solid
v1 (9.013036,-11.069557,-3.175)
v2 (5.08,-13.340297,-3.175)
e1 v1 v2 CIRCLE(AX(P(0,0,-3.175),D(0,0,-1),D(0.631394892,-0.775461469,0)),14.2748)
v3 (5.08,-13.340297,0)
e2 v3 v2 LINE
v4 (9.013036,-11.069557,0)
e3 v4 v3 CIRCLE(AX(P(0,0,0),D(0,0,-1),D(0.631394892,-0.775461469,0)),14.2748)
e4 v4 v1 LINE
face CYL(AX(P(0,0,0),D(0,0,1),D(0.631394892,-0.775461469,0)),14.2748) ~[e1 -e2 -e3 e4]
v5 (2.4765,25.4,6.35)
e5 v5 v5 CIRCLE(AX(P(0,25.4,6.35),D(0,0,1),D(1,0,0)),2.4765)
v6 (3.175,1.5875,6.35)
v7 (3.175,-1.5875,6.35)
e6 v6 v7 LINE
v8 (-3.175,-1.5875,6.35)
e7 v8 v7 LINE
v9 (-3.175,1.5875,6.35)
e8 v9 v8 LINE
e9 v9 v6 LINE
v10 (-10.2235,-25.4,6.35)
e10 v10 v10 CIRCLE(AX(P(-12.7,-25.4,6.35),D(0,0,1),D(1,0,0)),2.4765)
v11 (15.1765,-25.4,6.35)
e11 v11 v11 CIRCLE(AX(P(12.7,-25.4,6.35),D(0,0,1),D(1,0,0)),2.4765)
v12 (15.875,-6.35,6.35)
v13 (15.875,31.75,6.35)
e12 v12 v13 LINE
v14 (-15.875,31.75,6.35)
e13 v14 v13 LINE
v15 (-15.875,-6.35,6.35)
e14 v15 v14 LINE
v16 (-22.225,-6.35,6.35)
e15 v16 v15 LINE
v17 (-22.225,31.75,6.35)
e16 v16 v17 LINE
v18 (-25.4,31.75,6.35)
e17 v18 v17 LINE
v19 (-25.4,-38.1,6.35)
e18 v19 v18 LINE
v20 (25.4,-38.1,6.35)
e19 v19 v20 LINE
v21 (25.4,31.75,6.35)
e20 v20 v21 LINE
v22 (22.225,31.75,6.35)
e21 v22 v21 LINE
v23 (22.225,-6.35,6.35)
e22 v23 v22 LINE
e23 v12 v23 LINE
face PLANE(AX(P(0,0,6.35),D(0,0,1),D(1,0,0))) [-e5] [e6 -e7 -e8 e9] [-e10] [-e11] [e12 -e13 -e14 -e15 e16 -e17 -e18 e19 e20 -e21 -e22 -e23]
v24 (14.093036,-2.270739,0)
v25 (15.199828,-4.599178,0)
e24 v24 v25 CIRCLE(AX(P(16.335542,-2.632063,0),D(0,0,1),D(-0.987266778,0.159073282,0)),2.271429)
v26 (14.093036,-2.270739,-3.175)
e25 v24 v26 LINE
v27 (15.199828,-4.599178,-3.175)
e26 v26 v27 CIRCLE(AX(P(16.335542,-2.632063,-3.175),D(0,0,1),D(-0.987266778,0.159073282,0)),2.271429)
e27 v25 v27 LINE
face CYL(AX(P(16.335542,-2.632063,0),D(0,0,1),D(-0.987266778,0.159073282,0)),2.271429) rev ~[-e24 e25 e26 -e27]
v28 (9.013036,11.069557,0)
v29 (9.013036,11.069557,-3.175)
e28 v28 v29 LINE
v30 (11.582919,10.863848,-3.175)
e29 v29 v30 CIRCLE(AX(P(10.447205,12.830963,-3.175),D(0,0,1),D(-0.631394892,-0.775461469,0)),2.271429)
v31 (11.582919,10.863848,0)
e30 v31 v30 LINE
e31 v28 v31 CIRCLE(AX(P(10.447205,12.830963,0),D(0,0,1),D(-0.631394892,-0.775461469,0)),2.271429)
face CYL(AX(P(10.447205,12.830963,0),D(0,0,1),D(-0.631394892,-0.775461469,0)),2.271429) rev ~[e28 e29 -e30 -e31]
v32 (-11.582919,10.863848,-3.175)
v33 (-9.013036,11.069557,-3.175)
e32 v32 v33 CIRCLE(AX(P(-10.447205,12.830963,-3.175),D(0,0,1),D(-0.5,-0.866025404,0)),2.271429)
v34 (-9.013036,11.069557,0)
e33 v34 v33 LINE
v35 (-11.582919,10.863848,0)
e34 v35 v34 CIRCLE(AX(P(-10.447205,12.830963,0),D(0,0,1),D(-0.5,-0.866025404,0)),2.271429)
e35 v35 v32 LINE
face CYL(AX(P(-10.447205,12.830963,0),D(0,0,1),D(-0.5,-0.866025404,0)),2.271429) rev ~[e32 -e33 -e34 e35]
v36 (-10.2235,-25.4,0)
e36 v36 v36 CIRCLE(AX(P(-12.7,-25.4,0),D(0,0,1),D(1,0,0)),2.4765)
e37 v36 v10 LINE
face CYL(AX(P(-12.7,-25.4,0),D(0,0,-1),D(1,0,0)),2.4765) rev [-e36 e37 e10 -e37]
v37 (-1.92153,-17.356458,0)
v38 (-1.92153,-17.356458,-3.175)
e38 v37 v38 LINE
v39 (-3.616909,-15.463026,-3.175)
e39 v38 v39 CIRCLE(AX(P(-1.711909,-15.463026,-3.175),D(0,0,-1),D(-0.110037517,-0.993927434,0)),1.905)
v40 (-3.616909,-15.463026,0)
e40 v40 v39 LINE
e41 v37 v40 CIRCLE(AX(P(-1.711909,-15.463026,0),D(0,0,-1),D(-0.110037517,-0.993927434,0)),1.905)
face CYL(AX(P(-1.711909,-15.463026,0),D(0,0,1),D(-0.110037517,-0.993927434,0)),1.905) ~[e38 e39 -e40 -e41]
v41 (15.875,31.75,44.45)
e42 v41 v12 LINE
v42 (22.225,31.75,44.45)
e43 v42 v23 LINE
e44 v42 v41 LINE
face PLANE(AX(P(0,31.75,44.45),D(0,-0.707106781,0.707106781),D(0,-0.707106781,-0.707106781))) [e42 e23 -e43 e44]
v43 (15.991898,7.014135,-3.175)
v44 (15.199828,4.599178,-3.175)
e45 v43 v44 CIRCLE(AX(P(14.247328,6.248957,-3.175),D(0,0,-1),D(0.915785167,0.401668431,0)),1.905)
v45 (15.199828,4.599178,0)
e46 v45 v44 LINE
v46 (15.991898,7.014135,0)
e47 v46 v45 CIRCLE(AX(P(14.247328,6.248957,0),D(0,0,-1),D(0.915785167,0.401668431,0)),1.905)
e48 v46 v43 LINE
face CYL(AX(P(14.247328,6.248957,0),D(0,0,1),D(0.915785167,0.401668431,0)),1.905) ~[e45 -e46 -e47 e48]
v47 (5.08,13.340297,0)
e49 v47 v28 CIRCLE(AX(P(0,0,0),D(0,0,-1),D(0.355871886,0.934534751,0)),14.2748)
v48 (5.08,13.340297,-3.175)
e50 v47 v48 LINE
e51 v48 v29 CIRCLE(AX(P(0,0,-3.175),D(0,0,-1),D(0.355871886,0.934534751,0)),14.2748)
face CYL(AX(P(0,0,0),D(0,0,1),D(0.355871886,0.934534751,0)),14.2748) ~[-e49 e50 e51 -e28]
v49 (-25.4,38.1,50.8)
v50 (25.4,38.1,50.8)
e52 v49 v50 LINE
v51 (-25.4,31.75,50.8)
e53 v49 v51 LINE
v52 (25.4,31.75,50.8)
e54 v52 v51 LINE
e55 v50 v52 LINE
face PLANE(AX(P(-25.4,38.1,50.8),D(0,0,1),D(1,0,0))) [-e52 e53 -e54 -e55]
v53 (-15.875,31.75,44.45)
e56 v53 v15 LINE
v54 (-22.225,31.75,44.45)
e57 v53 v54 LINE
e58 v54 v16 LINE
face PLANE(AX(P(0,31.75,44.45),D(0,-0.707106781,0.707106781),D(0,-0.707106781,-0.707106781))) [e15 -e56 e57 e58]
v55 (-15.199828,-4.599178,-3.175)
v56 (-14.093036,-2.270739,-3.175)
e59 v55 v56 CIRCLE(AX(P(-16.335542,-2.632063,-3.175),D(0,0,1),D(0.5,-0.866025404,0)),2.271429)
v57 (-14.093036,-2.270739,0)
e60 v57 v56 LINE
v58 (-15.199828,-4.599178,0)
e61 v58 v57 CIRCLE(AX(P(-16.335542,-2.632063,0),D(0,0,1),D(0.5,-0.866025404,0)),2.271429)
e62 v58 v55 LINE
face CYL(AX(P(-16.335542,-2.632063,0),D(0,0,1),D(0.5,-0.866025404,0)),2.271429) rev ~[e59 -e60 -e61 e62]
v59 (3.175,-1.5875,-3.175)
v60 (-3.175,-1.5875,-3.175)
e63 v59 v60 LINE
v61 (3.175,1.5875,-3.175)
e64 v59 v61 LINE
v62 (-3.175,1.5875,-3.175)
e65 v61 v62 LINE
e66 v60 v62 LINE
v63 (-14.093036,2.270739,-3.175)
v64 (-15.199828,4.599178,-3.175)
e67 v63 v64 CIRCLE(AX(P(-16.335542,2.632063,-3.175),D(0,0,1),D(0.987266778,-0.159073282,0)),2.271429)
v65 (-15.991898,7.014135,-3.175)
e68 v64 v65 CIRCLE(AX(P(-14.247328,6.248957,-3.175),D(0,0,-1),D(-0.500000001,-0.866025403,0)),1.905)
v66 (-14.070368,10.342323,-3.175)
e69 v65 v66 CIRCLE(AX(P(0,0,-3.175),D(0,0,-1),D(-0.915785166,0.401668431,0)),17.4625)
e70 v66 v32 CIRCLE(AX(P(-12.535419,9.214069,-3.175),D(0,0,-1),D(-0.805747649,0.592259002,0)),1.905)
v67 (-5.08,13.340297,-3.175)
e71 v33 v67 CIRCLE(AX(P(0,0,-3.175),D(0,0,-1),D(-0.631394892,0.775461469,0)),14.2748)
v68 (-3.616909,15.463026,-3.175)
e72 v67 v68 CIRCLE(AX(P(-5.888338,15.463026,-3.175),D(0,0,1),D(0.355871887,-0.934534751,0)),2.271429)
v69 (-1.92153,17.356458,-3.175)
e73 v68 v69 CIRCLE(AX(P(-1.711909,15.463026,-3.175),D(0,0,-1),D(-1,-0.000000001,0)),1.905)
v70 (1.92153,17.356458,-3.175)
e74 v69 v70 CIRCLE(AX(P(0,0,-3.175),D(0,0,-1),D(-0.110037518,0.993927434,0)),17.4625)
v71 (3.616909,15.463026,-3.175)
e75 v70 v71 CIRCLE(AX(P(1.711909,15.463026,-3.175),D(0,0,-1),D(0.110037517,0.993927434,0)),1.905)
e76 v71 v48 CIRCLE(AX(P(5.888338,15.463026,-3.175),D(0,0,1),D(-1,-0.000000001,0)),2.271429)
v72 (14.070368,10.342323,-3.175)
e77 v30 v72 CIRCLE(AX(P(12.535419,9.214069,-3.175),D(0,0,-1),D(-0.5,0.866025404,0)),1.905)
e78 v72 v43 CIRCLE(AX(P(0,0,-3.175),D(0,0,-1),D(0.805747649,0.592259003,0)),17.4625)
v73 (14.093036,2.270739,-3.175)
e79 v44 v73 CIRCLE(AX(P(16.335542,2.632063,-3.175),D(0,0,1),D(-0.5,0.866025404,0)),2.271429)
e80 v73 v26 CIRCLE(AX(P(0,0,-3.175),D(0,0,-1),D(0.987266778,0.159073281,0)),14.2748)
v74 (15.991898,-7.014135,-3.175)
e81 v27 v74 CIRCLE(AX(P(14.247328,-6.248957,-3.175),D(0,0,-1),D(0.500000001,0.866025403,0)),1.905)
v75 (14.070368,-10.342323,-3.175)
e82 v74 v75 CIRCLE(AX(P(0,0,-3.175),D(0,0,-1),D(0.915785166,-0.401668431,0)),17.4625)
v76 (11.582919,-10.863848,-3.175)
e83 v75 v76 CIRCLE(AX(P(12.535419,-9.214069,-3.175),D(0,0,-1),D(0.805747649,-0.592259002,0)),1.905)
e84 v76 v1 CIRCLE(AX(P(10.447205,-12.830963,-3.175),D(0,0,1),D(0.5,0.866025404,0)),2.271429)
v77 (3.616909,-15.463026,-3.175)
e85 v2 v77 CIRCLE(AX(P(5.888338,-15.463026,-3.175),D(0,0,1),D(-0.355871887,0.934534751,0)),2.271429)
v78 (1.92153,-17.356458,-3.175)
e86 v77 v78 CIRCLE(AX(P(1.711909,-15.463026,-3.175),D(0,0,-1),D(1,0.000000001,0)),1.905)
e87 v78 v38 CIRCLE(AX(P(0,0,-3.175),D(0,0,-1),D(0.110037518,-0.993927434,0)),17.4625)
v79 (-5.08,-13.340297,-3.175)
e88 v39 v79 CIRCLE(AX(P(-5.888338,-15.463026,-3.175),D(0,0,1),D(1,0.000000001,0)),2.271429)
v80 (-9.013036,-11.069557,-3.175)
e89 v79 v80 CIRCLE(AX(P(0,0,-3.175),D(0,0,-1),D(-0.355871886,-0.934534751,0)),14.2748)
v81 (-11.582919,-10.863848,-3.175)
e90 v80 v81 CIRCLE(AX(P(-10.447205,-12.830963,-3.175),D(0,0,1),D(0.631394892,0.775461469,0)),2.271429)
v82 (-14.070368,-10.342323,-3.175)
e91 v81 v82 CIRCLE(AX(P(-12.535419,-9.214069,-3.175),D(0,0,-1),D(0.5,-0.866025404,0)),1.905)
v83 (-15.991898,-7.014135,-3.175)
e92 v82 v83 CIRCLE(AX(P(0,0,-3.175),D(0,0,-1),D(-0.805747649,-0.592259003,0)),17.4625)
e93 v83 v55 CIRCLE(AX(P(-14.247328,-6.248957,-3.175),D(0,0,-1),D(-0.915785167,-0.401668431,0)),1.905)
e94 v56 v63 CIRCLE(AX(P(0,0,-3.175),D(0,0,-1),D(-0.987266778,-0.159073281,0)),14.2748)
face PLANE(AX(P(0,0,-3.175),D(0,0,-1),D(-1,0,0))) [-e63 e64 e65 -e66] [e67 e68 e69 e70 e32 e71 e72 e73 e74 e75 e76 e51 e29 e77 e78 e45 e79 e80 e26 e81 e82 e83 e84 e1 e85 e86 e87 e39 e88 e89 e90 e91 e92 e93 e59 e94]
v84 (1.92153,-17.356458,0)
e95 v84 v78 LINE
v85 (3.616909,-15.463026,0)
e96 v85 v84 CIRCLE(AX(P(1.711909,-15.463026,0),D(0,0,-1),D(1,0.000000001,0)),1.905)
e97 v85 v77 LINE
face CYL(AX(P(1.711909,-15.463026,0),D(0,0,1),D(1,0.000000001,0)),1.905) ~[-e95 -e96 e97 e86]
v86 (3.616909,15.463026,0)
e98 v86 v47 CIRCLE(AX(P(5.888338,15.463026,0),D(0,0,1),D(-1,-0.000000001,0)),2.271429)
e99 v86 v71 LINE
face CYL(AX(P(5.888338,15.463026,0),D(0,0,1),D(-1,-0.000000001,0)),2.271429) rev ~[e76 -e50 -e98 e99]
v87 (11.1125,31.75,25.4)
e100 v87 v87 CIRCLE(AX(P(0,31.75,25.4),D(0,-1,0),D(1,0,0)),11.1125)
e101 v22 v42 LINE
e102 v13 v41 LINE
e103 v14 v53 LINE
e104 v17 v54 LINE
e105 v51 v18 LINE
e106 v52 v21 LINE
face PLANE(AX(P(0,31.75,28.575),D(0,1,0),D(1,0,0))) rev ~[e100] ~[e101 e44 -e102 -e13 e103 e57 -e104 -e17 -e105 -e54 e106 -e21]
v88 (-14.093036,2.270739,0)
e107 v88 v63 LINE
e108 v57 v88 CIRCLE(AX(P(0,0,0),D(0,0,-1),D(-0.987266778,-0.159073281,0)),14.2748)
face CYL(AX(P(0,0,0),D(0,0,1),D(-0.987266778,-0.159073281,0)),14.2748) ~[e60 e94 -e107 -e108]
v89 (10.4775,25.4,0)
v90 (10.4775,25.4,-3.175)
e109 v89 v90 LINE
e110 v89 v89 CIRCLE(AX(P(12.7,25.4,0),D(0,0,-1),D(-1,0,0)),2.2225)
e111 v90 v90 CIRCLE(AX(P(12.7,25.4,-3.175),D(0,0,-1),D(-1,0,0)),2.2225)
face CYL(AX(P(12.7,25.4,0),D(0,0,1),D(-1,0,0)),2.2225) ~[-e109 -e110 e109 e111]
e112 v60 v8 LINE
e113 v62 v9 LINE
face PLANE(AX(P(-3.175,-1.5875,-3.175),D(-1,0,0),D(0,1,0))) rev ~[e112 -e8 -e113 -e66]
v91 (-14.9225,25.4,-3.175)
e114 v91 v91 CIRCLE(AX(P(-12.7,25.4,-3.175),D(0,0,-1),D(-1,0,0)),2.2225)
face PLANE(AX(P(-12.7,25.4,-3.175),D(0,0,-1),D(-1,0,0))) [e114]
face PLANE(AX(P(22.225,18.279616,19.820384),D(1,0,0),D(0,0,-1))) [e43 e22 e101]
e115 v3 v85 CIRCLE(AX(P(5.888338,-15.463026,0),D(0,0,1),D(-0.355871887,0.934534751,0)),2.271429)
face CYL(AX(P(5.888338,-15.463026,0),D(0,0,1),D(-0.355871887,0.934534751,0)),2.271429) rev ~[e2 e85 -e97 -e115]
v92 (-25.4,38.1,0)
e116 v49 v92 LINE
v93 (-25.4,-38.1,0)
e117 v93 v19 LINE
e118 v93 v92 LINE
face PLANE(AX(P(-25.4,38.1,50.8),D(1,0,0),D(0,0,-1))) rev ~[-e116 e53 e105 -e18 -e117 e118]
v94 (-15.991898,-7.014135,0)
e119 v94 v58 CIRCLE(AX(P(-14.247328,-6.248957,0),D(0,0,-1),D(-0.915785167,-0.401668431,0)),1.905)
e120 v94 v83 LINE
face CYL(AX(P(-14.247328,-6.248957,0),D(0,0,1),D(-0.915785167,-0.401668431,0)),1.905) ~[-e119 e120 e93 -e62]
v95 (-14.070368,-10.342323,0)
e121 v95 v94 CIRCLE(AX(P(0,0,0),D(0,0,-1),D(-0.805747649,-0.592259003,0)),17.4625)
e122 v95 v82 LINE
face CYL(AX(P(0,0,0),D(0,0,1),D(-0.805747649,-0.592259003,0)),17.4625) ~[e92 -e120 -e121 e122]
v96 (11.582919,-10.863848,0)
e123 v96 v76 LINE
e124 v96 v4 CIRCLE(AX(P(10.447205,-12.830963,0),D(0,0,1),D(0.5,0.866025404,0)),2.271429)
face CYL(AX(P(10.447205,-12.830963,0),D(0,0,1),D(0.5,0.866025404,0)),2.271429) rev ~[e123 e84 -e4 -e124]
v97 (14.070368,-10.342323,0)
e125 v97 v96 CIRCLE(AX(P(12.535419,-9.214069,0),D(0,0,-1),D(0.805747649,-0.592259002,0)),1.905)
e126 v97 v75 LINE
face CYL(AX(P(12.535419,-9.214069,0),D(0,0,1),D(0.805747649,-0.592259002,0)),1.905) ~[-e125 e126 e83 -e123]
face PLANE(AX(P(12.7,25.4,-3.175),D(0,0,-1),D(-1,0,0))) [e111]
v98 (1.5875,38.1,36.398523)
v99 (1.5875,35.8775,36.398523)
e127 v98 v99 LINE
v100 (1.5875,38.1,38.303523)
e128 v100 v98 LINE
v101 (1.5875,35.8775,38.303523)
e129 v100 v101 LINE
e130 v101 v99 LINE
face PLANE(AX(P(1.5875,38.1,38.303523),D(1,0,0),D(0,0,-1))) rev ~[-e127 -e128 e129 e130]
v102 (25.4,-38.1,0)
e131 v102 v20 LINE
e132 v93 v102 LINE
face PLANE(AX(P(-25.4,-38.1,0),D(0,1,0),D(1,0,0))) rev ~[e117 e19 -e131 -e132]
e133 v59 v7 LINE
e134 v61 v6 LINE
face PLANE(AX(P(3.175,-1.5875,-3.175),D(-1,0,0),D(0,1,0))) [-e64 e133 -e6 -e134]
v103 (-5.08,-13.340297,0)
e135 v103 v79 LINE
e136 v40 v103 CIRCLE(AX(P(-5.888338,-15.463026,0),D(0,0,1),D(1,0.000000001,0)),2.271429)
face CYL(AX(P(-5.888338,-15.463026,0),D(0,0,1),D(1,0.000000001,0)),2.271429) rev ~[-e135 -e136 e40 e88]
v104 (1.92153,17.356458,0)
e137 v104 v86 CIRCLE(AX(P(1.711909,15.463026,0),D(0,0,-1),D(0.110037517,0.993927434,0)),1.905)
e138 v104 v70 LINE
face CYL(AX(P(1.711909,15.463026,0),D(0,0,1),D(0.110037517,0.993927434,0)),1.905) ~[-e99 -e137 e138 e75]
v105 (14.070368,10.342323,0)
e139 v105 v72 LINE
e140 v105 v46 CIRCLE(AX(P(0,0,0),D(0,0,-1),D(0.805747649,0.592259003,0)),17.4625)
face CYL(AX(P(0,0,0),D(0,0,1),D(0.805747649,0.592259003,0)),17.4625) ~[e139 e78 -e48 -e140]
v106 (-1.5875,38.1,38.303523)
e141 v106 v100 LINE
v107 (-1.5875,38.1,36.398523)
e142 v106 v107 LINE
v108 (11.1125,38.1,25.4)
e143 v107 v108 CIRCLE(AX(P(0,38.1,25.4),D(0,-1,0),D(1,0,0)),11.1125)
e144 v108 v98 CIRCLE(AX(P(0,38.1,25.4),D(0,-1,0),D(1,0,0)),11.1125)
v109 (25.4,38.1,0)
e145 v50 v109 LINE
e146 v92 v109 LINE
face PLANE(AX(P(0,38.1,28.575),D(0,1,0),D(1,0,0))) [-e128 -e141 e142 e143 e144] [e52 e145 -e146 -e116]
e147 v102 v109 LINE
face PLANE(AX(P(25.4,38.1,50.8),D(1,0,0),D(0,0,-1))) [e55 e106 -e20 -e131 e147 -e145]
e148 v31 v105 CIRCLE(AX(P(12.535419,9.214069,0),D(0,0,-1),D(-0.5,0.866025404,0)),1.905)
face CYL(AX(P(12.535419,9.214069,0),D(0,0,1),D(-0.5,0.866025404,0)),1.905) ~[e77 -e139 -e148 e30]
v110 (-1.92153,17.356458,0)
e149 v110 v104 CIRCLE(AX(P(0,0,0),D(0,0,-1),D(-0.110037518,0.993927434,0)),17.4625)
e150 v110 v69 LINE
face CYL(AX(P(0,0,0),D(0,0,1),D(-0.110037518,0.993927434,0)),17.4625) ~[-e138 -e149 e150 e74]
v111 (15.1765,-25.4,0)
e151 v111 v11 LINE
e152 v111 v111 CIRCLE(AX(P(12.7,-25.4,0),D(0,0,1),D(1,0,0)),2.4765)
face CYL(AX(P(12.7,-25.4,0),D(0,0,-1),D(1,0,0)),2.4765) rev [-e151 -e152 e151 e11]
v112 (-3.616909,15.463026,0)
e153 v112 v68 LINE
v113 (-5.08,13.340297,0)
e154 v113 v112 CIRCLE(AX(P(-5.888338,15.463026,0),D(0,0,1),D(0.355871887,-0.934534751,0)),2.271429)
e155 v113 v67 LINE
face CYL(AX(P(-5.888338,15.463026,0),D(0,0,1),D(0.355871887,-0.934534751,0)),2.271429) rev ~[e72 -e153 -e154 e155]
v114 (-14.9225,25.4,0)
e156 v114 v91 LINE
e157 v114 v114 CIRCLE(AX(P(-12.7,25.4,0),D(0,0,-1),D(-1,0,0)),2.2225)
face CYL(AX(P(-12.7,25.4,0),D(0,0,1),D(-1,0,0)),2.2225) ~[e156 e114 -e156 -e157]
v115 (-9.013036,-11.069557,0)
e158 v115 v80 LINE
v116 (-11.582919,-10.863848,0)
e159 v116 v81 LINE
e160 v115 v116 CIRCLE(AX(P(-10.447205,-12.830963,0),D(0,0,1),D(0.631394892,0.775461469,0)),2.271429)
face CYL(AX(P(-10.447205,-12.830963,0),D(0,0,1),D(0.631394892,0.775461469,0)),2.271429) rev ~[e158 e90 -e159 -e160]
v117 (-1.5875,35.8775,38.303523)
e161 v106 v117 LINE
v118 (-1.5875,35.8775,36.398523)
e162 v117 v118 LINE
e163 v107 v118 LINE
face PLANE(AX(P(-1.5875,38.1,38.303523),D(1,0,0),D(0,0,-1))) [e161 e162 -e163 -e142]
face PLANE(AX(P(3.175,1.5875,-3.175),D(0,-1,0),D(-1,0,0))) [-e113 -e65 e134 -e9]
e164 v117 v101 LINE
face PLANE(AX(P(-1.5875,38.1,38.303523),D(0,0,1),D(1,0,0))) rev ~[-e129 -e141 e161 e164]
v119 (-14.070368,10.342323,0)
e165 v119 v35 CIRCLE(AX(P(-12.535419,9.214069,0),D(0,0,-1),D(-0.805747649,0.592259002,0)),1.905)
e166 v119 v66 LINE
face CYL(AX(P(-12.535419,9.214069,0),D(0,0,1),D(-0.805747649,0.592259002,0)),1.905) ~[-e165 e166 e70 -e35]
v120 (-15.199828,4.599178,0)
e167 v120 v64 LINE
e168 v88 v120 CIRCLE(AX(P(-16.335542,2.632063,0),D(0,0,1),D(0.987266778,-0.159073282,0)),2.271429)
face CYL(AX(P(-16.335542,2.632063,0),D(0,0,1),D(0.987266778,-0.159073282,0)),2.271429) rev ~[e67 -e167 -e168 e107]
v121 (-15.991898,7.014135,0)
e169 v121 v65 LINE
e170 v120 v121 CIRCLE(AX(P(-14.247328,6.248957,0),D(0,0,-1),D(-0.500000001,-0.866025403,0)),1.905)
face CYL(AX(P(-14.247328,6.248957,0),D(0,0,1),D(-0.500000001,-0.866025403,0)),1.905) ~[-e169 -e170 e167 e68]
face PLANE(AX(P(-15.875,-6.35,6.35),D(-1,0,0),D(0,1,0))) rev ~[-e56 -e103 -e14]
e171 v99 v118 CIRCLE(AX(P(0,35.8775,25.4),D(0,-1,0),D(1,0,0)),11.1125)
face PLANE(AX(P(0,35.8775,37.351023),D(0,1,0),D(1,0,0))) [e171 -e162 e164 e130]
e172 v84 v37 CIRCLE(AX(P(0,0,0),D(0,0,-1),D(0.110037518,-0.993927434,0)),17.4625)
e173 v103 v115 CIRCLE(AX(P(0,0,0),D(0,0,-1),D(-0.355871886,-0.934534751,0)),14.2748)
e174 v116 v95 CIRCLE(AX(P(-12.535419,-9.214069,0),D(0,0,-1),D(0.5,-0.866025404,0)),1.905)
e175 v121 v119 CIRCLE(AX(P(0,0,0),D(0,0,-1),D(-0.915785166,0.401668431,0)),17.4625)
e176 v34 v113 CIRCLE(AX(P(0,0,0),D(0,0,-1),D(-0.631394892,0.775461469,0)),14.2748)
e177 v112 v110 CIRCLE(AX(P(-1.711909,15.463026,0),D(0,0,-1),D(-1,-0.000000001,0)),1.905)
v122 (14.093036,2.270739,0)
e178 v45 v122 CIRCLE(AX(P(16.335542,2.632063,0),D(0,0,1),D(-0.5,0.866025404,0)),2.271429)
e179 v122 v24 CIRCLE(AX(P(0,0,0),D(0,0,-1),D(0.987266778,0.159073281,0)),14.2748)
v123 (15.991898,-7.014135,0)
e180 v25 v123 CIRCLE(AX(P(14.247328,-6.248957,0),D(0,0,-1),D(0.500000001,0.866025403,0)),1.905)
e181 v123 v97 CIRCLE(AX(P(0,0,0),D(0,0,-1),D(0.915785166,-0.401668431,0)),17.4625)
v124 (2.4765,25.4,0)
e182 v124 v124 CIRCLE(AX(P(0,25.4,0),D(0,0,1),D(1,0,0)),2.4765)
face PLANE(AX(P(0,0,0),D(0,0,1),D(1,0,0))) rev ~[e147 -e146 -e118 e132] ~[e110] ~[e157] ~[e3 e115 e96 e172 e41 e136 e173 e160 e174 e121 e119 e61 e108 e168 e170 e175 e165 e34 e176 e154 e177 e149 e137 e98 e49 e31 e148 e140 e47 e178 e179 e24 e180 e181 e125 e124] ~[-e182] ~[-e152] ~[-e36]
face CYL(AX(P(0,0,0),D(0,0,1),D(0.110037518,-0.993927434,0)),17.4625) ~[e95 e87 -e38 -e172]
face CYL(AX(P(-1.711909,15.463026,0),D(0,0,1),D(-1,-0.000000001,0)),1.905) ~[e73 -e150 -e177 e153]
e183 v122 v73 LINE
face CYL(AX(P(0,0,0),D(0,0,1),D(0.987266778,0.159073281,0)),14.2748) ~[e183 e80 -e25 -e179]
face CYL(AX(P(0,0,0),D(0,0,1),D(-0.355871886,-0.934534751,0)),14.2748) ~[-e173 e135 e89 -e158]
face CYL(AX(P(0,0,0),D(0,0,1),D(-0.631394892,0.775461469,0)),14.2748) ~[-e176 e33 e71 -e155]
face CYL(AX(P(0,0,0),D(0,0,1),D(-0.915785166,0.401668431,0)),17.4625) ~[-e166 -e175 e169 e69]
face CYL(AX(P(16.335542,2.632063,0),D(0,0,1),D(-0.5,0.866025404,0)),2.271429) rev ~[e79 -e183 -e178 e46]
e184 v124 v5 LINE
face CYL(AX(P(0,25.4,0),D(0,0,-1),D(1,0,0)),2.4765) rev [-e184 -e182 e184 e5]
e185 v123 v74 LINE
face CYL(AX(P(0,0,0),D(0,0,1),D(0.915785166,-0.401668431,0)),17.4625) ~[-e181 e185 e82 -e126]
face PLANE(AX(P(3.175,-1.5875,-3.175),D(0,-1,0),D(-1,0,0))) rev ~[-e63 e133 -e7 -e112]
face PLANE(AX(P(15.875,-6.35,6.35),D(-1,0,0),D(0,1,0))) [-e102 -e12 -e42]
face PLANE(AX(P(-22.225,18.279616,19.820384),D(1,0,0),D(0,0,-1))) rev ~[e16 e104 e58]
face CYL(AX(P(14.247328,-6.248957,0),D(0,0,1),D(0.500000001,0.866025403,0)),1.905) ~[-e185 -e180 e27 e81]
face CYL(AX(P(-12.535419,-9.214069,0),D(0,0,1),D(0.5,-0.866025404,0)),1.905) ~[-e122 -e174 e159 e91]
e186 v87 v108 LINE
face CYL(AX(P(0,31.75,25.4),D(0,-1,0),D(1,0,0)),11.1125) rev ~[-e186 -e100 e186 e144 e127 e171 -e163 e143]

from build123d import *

# Parameters (mm, degrees)
SKETCH1_W           = 50.8
SKETCH1_H           = 76.2
SKETCH1_R           = 2.4765
BOSS_EXTRUDE1_DEPTH = 6.35
SKETCH2_R           = 2.2225
BOSS_EXTRUDE2_DEPTH = 3.175
SKETCH3_W           = 6.35
SKETCH3_H           = 3.175
CUT_EXTRUDE1_DEPTH  = 10.525
SKETCH4_W           = 50.8
SKETCH4_H           = 44.45
BOSS_EXTRUDE3_DEPTH = 6.35
BOSS_EXTRUDE4_DEPTH = 22.225
SKETCH6_W           = 31.75
SKETCH6_H           = 38.1
CUT_EXTRUDE2_DEPTH  = 45.45
SKETCH7_R           = 11.1125
CUT_EXTRUDE3_DEPTH  = 7.35
SKETCH8_W           = 3.175
SKETCH8_H           = 1.905
CUT_EXTRUDE4_DEPTH  = 2.2225


with BuildPart() as part:
    # Sketch1 → Boss-Extrude1 (new body)
    with BuildSketch(Plane.XY):
        Rectangle(SKETCH1_W, SKETCH1_H)
        with Locations((-12.7, -25.4)):
            Circle(SKETCH1_R, mode=Mode.SUBTRACT)
        with Locations((12.7, -25.4)):
            Circle(SKETCH1_R, mode=Mode.SUBTRACT)
        with Locations((0, 25.4)):
            Circle(SKETCH1_R, mode=Mode.SUBTRACT)
    extrude(amount=BOSS_EXTRUDE1_DEPTH)

    # Sketch2 → Boss-Extrude2 (add)
    with BuildSketch(Plane(origin=(0, 0, 0), x_dir=(-1, 0, 0), z_dir=(0, 0, -1))):
        with Locations((-12.7, 25.4)):
            Circle(SKETCH2_R)
        with Locations((12.7, 25.4)):
            Circle(SKETCH2_R)
        with BuildLine():
            ThreePointArc((-5.08, 13.340296662), (-7.1374, 12.362339434), (-9.013035804, 11.069557382))
            ThreePointArc((-9.013035804, 11.069557382), (-10.265964814, 10.566776235), (-11.582919047, 10.863847829))
            ThreePointArc((-11.582919047, 10.863847829), (-12.926326796, 11.078530787), (-14.070368319, 10.342322835))
            ThreePointArc((-14.070368319, 10.342322835), (-15.122968614, 8.73125), (-15.991898469, 7.014134987))
            ThreePointArc((-15.991898469, 7.014134987), (-16.057452496, 5.65526199), (-15.199827727, 4.59917823))
            ThreePointArc((-15.199827727, 4.59917823), (-14.284079063, 3.607198205), (-14.093035804, 2.27073928))
            ThreePointArc((-14.093035804, 2.27073928), (-14.2748, 0), (-14.093035804, -2.27073928))
            ThreePointArc((-14.093035804, -2.27073928), (-14.284079063, -3.607198205), (-15.199827727, -4.59917823))
            ThreePointArc((-15.199827727, -4.59917823), (-16.057452496, -5.65526199), (-15.991898469, -7.014134987))
            ThreePointArc((-15.991898469, -7.014134987), (-15.122968614, -8.73125), (-14.070368319, -10.342322835))
            ThreePointArc((-14.070368319, -10.342322835), (-12.926326796, -11.078530787), (-11.582919047, -10.863847829))
            ThreePointArc((-11.582919047, -10.863847829), (-10.265964814, -10.566776235), (-9.013035804, -11.069557382))
            ThreePointArc((-9.013035804, -11.069557382), (-7.1374, -12.362339434), (-5.08, -13.340296662))
            ThreePointArc((-5.08, -13.340296662), (-4.018114249, -14.173974441), (-3.616908679, -15.46302606))
            ThreePointArc((-3.616908679, -15.46302606), (-3.1311257, -16.733792777), (-1.92153015, -17.356457822))
            ThreePointArc((-1.92153015, -17.356457822), (0, -17.4625), (1.92153015, -17.356457822))
            ThreePointArc((1.92153015, -17.356457822), (3.1311257, -16.733792777), (3.616908679, -15.46302606))
            ThreePointArc((3.616908679, -15.46302606), (4.018114249, -14.173974441), (5.08, -13.340296662))
            ThreePointArc((5.08, -13.340296662), (7.1374, -12.362339434), (9.013035804, -11.069557382))
            ThreePointArc((9.013035804, -11.069557382), (10.265964814, -10.566776235), (11.582919047, -10.863847829))
            ThreePointArc((11.582919047, -10.863847829), (12.926326796, -11.078530787), (14.070368319, -10.342322835))
            ThreePointArc((14.070368319, -10.342322835), (15.122968614, -8.73125), (15.991898469, -7.014134987))
            ThreePointArc((15.991898469, -7.014134987), (16.057452496, -5.65526199), (15.199827727, -4.59917823))
            ThreePointArc((15.199827727, -4.59917823), (14.284079063, -3.607198205), (14.093035804, -2.27073928))
            ThreePointArc((14.093035804, -2.27073928), (14.2748, 0), (14.093035804, 2.27073928))
            ThreePointArc((14.093035804, 2.27073928), (14.284079063, 3.607198205), (15.199827727, 4.59917823))
            ThreePointArc((15.199827727, 4.59917823), (16.057452496, 5.65526199), (15.991898469, 7.014134987))
            ThreePointArc((15.991898469, 7.014134987), (15.122968614, 8.73125), (14.070368319, 10.342322835))
            ThreePointArc((14.070368319, 10.342322835), (12.926326796, 11.078530787), (11.582919047, 10.863847829))
            ThreePointArc((11.582919047, 10.863847829), (10.265964814, 10.566776235), (9.013035804, 11.069557382))
            ThreePointArc((9.013035804, 11.069557382), (7.1374, 12.362339434), (5.08, 13.340296662))
            ThreePointArc((5.08, 13.340296662), (4.018114249, 14.173974441), (3.616908679, 15.46302606))
            ThreePointArc((3.616908679, 15.46302606), (3.1311257, 16.733792777), (1.92153015, 17.356457822))
            ThreePointArc((1.92153015, 17.356457822), (0, 17.4625), (-1.92153015, 17.356457822))
            ThreePointArc((-1.92153015, 17.356457822), (-3.1311257, 16.733792777), (-3.616908679, 15.46302606))
            ThreePointArc((-3.616908679, 15.46302606), (-4.018114249, 14.173974441), (-5.08, 13.340296662))
        make_face()
    extrude(amount=BOSS_EXTRUDE2_DEPTH)

    # Sketch3 → Cut-Extrude1 (cut, through all)
    with BuildSketch(Plane(origin=(0, 0, -3.175), x_dir=(-1, 0, 0), z_dir=(0, 0, -1))):
        Rectangle(SKETCH3_W, SKETCH3_H)
    extrude(amount=-CUT_EXTRUDE1_DEPTH, mode=Mode.SUBTRACT)

    # Sketch4 → Boss-Extrude3 (add)
    with BuildSketch(Plane(origin=(0, 38.1, 0), x_dir=(1, 0, 0), z_dir=(0, 1, 0))):
        with Locations((0, -28.575)):
            Rectangle(SKETCH4_W, SKETCH4_H)
    extrude(amount=-BOSS_EXTRUDE3_DEPTH)

    # Sketch5 → Boss-Extrude4 (add, symmetric)
    with BuildSketch(Plane(origin=(0, 0, 0), x_dir=(0, 0, -1), z_dir=(1, 0, 0))):
        Polygon((-44.45, 31.75), (-6.35, -6.35), (-6.35, 31.75), align=None)
    extrude(amount=BOSS_EXTRUDE4_DEPTH, both=True)

    # Sketch6 → Cut-Extrude2 (cut, through all)
    with BuildSketch(Plane.XY.offset(6.35)):
        with Locations((0, 12.7)):
            Rectangle(SKETCH6_W, SKETCH6_H)
    extrude(amount=CUT_EXTRUDE2_DEPTH, mode=Mode.SUBTRACT)

    # Sketch7 → Cut-Extrude3 (cut, through all)
    with BuildSketch(Plane.XZ.offset(-31.75)):
        with Locations((0, 25.4)):
            Circle(SKETCH7_R)
    extrude(amount=-CUT_EXTRUDE3_DEPTH, mode=Mode.SUBTRACT)

    # Sketch8 → Cut-Extrude4 (cut)
    with BuildSketch(Plane(origin=(0, 38.1, 0), x_dir=(1, 0, 0), z_dir=(0, 1, 0))):
        with Locations((0, -37.351022628)):
            Rectangle(SKETCH8_W, SKETCH8_H)
    extrude(amount=-CUT_EXTRUDE4_DEPTH, mode=Mode.SUBTRACT)


solid = part.part
